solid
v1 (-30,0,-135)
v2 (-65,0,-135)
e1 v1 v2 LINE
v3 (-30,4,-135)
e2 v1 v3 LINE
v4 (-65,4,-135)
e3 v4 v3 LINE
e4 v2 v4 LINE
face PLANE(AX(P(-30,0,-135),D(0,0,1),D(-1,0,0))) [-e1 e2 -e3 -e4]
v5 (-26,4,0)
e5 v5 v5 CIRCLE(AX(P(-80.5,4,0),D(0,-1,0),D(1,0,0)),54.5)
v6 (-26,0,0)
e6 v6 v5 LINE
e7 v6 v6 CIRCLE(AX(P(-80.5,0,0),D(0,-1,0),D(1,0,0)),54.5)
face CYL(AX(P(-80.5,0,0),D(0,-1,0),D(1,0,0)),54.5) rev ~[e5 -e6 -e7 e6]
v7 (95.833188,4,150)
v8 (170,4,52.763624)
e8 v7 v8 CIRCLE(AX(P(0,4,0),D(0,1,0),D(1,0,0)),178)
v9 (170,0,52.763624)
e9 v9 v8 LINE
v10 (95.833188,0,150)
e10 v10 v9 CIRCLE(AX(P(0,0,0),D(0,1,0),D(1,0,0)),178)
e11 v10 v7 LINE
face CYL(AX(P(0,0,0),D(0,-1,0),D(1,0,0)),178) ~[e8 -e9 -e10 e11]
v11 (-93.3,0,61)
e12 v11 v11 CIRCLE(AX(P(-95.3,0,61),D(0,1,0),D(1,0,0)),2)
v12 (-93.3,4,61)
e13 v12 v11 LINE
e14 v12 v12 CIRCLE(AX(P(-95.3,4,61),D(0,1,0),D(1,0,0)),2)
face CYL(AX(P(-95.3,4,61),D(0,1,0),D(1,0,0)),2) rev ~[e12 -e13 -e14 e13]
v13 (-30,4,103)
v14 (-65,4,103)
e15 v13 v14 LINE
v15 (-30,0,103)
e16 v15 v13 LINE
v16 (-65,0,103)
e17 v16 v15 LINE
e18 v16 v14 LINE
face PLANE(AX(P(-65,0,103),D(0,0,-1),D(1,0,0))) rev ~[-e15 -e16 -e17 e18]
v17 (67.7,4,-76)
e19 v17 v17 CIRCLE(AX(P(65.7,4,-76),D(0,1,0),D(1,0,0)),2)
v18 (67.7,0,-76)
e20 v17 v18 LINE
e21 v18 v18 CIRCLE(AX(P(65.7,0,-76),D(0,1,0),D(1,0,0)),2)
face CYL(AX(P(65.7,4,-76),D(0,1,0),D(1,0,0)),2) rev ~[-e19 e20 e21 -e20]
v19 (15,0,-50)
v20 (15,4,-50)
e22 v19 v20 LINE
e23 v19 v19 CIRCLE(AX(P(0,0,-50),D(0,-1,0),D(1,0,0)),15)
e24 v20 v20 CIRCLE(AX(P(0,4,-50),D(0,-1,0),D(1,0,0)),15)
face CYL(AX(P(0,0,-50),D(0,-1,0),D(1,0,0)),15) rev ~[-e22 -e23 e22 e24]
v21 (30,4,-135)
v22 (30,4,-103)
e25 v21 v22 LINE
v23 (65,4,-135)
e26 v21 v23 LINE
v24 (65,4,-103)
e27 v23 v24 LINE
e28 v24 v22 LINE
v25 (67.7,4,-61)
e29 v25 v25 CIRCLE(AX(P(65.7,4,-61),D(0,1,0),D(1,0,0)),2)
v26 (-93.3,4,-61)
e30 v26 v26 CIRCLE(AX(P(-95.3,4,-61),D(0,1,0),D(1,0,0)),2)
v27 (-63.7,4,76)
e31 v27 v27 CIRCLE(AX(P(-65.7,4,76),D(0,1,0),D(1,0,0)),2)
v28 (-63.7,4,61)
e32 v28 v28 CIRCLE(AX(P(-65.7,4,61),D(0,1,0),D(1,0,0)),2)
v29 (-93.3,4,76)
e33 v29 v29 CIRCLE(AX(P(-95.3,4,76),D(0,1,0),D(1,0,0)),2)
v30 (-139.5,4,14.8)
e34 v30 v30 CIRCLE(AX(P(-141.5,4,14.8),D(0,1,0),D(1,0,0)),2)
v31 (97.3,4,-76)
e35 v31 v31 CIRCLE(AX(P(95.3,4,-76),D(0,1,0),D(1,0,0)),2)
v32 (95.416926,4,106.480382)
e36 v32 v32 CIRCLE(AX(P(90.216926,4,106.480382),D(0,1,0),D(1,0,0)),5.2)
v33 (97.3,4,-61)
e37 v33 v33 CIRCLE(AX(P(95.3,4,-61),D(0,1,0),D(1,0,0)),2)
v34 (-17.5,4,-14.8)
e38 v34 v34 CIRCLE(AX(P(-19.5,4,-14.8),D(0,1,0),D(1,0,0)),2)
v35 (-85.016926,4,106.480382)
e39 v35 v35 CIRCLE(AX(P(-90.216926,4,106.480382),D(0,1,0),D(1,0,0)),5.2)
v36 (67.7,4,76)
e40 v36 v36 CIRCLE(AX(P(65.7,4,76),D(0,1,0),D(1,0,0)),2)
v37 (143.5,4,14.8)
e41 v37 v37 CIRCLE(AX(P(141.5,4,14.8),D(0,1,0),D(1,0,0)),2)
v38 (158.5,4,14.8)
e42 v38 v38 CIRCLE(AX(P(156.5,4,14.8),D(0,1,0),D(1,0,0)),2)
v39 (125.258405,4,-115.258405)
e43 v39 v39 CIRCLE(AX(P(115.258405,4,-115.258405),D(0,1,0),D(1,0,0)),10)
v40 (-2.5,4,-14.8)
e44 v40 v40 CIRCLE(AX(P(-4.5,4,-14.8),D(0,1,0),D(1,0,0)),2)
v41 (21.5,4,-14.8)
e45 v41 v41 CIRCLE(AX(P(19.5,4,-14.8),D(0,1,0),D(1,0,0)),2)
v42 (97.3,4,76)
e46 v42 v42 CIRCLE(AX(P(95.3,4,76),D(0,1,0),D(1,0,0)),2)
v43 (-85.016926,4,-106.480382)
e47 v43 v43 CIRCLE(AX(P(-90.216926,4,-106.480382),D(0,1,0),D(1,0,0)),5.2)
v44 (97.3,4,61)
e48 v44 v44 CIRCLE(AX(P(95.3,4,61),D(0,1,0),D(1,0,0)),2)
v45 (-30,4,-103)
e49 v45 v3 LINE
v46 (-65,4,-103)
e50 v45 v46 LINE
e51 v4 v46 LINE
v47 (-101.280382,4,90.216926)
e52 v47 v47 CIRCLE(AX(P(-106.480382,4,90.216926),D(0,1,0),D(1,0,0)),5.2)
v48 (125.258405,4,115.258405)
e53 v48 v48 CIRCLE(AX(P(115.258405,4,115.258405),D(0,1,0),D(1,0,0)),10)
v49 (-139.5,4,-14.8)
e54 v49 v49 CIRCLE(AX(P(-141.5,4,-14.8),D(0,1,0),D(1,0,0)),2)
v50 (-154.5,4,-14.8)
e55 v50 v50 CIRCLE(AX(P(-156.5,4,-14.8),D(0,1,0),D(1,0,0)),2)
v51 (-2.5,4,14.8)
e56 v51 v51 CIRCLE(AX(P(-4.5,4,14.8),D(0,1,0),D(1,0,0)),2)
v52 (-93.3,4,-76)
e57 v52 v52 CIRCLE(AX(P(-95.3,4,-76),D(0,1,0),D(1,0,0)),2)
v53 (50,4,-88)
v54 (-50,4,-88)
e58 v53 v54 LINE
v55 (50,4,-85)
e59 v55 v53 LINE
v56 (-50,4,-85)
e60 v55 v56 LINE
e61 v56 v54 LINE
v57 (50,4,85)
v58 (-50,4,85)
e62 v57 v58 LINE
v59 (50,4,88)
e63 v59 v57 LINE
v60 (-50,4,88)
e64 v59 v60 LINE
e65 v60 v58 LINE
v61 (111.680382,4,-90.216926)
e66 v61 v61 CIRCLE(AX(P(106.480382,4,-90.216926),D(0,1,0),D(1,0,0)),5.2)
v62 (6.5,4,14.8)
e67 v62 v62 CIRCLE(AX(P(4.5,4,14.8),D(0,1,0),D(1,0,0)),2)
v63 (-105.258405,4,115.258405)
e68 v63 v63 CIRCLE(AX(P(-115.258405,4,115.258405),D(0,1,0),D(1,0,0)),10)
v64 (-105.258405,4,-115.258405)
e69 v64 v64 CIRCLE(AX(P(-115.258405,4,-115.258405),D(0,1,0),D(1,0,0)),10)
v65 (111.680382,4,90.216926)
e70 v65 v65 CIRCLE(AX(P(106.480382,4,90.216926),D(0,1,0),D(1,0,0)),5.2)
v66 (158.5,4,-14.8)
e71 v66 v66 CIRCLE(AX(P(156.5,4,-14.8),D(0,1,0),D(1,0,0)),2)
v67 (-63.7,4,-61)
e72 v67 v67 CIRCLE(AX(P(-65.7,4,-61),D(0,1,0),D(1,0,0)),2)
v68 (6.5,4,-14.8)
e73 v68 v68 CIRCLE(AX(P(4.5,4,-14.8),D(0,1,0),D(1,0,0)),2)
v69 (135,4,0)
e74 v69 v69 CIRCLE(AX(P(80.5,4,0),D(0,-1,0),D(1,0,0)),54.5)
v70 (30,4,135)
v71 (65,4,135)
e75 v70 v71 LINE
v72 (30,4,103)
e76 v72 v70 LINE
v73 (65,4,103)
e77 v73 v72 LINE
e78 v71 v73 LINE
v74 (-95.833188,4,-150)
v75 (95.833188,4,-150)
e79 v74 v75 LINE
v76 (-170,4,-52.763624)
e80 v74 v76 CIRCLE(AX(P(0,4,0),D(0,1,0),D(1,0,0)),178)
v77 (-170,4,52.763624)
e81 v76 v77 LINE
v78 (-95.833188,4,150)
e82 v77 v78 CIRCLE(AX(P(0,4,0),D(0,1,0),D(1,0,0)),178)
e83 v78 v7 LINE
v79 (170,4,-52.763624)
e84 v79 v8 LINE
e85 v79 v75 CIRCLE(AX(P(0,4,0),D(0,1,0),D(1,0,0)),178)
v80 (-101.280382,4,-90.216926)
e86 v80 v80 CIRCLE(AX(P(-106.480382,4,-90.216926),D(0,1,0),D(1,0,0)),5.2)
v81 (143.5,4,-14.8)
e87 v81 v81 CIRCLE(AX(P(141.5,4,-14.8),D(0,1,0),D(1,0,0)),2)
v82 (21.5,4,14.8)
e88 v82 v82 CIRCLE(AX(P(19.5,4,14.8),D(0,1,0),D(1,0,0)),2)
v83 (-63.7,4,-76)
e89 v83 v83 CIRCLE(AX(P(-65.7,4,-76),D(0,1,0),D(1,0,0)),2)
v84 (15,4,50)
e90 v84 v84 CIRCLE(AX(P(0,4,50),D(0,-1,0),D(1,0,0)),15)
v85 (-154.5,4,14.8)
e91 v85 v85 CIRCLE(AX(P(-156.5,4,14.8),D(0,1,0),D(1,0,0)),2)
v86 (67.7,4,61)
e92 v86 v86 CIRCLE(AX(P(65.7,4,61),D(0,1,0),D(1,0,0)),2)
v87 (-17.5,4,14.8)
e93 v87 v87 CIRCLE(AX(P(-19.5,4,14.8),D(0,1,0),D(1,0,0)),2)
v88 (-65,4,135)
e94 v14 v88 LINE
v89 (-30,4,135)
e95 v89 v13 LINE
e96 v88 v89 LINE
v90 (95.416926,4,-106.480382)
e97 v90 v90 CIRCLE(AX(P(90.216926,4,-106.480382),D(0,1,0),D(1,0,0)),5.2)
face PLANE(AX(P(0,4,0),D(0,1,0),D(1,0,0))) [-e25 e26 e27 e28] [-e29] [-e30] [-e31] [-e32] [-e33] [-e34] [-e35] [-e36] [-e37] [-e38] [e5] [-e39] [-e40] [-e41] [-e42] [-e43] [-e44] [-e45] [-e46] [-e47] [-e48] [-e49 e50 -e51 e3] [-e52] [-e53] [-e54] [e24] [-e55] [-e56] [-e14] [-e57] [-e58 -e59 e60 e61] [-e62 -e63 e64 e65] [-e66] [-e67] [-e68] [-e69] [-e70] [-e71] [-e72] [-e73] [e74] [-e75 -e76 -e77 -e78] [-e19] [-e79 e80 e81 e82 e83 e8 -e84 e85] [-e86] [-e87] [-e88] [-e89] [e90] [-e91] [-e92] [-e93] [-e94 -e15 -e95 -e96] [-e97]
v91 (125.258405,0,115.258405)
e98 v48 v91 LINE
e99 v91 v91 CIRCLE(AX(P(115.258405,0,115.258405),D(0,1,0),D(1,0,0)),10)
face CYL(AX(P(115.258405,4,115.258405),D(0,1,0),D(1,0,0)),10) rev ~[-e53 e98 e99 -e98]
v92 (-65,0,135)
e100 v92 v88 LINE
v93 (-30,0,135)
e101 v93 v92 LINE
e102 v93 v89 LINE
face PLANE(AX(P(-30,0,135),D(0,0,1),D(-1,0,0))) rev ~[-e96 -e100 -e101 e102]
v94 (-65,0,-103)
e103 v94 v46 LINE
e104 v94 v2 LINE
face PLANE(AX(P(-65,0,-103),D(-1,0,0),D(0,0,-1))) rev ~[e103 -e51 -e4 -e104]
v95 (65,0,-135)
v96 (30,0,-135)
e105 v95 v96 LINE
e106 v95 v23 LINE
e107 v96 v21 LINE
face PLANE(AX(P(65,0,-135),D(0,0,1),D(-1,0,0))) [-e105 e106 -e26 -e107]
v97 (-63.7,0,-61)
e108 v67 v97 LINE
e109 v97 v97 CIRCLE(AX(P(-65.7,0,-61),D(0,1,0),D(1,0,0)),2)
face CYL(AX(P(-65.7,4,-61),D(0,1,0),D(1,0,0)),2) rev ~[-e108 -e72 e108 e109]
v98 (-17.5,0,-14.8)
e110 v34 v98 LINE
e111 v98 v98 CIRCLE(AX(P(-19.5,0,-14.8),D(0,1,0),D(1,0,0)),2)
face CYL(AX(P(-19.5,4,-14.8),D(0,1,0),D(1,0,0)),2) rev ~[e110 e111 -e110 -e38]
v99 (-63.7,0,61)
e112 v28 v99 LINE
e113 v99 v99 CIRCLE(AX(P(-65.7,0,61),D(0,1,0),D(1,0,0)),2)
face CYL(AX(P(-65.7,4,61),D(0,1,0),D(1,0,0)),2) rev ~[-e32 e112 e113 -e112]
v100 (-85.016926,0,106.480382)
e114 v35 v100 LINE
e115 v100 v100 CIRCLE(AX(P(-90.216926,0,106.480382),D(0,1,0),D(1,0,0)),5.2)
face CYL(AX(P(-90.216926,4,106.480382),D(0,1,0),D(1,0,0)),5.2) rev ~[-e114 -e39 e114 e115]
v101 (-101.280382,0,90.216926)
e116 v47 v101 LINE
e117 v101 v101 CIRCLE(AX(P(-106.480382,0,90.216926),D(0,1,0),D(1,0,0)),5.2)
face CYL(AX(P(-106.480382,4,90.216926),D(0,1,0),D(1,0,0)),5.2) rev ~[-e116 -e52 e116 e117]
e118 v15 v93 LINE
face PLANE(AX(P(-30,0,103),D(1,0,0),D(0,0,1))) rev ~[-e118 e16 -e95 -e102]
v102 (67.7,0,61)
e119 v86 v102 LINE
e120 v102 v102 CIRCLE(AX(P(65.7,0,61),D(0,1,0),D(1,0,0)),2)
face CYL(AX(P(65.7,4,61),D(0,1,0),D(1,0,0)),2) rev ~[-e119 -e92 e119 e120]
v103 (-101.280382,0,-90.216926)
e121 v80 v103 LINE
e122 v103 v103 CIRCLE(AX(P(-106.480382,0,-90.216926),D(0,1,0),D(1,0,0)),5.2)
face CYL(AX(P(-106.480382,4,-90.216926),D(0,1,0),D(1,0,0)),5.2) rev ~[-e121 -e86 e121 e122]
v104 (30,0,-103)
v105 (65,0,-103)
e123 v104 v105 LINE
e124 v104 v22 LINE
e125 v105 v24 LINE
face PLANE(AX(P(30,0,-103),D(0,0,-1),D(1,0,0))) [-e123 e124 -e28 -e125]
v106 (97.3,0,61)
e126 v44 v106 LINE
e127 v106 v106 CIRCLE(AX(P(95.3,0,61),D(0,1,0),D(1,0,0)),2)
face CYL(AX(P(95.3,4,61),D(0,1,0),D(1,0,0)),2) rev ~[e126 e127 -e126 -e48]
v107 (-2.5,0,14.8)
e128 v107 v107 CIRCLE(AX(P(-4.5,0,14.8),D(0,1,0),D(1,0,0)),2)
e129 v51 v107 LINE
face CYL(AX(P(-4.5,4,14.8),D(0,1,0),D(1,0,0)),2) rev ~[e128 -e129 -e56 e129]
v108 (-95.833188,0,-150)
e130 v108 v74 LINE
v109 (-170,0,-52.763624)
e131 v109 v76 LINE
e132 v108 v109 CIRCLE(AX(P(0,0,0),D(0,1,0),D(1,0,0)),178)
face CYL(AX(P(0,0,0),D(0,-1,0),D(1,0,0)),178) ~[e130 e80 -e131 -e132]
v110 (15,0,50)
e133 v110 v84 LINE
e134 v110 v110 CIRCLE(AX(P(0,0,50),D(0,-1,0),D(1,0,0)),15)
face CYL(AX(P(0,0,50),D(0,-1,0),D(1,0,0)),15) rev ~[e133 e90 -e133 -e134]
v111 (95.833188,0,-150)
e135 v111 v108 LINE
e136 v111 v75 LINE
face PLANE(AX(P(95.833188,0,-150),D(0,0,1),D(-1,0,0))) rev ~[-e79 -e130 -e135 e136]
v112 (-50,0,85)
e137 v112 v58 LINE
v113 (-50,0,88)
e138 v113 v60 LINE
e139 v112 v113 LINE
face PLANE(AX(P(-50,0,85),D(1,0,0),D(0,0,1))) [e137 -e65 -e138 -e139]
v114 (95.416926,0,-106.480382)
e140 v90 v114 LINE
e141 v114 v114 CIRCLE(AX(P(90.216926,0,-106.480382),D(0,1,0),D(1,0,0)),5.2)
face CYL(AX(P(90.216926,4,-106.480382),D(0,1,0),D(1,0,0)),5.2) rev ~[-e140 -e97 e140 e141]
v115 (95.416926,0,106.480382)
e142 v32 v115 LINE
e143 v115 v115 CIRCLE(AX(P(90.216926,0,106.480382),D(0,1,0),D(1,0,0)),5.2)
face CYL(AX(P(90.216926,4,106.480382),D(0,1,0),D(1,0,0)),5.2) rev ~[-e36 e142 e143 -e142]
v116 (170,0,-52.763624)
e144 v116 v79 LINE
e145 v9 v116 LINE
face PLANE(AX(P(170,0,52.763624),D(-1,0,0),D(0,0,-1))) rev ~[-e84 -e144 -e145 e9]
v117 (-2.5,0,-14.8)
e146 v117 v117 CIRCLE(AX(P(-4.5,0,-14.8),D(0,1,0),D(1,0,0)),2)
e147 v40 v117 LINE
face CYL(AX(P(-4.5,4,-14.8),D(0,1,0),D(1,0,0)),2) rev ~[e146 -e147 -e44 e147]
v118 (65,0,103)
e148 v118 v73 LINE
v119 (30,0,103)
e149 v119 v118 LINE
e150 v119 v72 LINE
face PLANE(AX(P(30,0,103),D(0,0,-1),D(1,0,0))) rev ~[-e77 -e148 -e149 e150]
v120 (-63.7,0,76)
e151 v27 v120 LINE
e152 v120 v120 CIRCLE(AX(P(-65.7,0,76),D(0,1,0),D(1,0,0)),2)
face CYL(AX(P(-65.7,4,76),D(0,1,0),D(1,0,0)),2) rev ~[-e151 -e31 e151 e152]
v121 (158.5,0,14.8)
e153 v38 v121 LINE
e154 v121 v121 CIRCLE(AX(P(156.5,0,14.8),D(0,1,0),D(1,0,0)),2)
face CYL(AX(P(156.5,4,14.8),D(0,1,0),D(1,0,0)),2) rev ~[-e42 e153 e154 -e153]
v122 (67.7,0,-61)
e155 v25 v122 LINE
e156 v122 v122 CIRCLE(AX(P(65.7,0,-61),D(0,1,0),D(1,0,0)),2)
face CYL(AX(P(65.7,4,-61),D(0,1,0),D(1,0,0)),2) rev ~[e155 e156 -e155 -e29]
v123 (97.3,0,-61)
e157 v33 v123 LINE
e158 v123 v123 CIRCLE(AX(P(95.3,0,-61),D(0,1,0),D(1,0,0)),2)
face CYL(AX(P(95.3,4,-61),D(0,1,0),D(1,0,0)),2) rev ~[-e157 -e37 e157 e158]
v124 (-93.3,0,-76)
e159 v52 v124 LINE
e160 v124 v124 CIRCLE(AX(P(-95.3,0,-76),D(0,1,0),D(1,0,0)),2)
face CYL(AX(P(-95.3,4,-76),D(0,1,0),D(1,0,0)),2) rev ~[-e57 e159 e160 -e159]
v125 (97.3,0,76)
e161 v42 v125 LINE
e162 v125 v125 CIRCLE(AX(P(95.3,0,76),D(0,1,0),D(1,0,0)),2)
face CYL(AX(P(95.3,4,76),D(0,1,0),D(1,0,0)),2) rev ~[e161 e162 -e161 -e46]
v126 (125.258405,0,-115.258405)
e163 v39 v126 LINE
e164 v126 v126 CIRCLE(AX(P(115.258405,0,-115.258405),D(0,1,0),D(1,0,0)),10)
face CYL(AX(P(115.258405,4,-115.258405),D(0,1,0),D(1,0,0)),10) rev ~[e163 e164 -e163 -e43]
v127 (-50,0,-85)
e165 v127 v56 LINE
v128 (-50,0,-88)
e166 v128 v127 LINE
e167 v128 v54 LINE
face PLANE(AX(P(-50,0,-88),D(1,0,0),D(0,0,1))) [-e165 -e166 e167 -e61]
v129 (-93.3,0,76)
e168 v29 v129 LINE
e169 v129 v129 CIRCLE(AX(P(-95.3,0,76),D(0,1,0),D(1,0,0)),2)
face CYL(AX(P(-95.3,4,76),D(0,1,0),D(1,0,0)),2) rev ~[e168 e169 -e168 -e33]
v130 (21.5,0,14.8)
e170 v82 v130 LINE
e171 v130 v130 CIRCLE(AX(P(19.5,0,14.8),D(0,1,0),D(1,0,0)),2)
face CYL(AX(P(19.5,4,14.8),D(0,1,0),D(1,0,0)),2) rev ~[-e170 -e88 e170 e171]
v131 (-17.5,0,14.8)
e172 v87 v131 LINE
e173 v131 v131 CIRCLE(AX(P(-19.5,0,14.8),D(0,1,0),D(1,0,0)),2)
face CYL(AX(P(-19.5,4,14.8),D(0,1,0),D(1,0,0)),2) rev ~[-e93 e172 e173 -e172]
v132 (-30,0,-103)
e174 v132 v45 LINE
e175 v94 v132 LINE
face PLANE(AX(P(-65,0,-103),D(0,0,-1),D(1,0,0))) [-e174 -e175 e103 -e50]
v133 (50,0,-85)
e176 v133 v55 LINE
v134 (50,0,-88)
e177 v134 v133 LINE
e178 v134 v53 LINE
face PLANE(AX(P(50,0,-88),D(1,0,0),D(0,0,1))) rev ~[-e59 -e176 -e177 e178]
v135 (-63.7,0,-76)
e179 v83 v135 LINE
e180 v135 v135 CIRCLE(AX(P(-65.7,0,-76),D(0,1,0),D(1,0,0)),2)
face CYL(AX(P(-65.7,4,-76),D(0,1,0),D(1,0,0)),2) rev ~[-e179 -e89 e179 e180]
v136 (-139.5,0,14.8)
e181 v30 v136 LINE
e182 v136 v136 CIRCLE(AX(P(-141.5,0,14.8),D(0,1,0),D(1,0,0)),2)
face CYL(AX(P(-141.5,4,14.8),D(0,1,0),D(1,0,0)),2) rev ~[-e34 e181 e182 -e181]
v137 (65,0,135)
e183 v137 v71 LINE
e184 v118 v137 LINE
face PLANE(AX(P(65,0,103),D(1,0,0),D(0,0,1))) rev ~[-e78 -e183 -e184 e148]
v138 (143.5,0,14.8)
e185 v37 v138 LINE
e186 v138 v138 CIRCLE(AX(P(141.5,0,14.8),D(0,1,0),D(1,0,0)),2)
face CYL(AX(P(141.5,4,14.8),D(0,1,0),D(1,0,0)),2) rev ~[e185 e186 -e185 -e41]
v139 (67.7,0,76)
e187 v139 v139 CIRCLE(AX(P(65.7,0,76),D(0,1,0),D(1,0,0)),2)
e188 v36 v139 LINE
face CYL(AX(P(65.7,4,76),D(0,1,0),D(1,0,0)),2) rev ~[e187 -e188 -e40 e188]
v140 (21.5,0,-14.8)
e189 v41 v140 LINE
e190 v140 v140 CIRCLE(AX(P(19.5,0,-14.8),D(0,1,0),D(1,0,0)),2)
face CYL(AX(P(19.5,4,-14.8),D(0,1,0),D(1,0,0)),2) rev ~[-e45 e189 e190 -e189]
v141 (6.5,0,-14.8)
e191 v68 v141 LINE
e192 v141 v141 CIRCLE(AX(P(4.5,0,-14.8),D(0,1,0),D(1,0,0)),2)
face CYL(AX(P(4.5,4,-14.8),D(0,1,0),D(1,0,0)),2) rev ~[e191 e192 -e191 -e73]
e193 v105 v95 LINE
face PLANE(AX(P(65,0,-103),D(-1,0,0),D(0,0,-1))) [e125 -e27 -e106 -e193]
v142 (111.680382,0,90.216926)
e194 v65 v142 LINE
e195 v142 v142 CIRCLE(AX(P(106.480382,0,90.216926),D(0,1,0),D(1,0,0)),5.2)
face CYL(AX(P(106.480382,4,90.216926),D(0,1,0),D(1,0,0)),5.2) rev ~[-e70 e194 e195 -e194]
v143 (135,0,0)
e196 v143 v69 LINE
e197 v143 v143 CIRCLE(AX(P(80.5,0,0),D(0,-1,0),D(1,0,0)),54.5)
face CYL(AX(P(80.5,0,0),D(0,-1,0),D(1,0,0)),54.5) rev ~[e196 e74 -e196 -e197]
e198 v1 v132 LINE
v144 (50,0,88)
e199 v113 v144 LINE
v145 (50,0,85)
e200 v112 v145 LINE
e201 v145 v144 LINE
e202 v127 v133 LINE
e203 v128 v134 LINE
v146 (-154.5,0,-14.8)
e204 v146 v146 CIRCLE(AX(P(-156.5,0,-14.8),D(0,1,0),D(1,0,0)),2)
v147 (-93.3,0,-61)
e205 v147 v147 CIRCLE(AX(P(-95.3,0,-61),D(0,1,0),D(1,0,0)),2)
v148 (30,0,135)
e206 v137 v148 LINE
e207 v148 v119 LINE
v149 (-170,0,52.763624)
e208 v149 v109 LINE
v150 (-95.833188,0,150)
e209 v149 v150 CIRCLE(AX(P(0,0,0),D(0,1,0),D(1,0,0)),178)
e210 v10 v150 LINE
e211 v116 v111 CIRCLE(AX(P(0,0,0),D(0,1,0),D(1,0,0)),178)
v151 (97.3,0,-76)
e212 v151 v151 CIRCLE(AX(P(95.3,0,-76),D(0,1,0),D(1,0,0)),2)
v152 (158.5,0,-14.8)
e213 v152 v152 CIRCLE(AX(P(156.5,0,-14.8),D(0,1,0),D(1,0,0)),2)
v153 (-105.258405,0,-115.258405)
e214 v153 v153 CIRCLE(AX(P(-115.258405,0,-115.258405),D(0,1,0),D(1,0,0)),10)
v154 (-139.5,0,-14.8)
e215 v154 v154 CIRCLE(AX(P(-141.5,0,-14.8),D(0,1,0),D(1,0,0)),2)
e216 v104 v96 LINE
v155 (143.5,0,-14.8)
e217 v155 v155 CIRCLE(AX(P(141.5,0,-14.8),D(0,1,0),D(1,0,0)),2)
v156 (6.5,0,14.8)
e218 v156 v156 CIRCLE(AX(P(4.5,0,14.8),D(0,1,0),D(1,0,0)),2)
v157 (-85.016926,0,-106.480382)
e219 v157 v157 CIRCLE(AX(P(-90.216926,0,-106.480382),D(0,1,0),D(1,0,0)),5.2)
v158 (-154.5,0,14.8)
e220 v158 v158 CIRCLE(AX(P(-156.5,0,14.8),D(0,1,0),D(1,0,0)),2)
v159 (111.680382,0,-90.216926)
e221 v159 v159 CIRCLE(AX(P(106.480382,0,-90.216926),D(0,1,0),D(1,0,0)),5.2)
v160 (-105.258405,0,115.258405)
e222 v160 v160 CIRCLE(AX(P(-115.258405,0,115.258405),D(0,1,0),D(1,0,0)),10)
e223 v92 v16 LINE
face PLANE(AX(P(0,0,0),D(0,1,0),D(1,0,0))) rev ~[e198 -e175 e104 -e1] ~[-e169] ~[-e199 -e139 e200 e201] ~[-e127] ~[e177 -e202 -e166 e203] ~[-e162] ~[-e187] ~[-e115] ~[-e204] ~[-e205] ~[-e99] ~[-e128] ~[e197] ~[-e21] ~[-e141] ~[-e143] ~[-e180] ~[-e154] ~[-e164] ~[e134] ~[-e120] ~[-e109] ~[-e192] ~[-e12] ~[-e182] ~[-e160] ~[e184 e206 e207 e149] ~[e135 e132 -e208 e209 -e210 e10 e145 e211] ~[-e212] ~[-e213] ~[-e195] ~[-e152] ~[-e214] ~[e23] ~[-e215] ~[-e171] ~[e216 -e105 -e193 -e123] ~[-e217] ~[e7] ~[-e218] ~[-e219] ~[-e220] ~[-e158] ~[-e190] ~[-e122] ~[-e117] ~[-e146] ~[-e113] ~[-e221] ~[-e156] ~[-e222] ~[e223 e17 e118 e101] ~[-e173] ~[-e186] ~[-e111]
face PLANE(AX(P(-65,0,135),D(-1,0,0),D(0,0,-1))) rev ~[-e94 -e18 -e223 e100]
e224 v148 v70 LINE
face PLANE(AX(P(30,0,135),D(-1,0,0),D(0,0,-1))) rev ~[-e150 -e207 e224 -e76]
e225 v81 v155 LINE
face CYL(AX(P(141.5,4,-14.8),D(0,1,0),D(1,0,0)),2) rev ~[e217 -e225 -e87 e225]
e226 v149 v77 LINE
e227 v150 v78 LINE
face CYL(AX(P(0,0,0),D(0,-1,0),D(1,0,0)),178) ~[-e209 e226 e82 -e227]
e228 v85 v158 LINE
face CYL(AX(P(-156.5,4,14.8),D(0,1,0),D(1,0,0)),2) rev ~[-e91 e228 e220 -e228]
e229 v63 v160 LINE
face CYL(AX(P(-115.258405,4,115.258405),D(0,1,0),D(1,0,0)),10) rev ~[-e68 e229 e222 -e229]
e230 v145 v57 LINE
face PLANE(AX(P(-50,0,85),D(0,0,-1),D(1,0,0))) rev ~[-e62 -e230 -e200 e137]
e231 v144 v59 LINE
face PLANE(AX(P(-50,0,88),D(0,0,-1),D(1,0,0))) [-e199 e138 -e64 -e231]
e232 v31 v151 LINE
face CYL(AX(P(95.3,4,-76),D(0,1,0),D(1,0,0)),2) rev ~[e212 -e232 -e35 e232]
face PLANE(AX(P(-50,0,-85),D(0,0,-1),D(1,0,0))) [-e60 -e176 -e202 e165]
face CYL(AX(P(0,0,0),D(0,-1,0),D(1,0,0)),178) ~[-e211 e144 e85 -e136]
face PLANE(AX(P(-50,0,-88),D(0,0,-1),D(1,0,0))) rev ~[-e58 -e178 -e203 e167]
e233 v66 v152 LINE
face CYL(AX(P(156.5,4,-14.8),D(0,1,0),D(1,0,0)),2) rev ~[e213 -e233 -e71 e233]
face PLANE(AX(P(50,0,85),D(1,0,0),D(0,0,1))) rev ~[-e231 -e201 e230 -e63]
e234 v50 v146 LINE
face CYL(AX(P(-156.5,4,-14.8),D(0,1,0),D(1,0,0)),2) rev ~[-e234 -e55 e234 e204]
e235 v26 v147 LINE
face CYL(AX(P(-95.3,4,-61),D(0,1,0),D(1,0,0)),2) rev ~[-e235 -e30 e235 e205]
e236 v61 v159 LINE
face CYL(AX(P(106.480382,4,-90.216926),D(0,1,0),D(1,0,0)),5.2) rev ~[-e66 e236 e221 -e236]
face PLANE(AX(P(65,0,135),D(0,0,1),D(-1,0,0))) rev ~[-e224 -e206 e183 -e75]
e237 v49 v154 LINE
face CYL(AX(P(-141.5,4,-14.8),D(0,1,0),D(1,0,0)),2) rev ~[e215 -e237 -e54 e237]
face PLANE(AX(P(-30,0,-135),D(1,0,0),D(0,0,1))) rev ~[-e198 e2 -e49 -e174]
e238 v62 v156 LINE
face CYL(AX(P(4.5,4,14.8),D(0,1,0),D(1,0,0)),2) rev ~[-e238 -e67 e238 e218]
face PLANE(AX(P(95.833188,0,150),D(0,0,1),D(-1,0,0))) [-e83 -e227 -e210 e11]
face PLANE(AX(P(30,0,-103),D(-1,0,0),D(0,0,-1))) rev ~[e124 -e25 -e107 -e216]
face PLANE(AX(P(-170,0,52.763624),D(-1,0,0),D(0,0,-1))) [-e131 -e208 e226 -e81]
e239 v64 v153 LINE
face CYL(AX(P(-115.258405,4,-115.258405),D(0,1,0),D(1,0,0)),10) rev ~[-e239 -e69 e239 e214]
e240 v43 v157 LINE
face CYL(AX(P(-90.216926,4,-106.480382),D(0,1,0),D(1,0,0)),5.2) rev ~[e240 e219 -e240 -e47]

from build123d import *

# Parameters (mm, degrees)
SKETCH_1_R          = 178
EXTRUDE_1_DEPTH     = 4
SKETCH_2_R          = 10
SKETCH_2_R_2        = 5.2
CUT_EXTRUDE_1_DEPTH = 10
SKETCH_4_R          = 54.5
CUT_EXTRUDE_2_DEPTH = 10
SKETCH_5_R          = 2
CUT_EXTRUDE_3_DEPTH = 10
CUT_EXTRUDE_4_DEPTH = 10
SKETCH_11_W         = 100
SKETCH_11_H         = 3
CUT_EXTRUDE_5_DEPTH = 10
SKETCH_13_R         = 15
CUT_EXTRUDE_6_DEPTH = 10


with BuildPart() as part:
    # 草图1 → 凸台-拉伸1 (new body)
    with BuildSketch(Plane(origin=(0, 0, 0), x_dir=(1, 0, 0), z_dir=(0, 1, 0))):
        Circle(SKETCH_1_R)
    extrude(amount=EXTRUDE_1_DEPTH)

    # 草图2 → 切除-拉伸1 (cut)
    with BuildSketch(Plane(origin=(0, 4, 0), x_dir=(1, 0, 0), z_dir=(0, 1, 0))):
        with Locations((115.258405333, 115.258405333)):
            Circle(SKETCH_2_R)
        with Locations((-90.216925784, -106.480381752)):
            Circle(SKETCH_2_R_2)
        with Locations((-106.480381752, -90.216925784)):
            Circle(SKETCH_2_R_2)
        with Locations((115.258405333, -115.258405333)):
            Circle(SKETCH_2_R)
        with Locations((-115.258405333, -115.258405333)):
            Circle(SKETCH_2_R)
        with Locations((-115.258405333, 115.258405333)):
            Circle(SKETCH_2_R)
        with Locations((-90.216925784, 106.480381752)):
            Circle(SKETCH_2_R_2)
        with Locations((-106.480381752, 90.216925784)):
            Circle(SKETCH_2_R_2)
        with Locations((106.480381752, 90.216925784)):
            Circle(SKETCH_2_R_2)
        with Locations((90.216925784, 106.480381752)):
            Circle(SKETCH_2_R_2)
        with Locations((90.216925784, -106.480381752)):
            Circle(SKETCH_2_R_2)
        with Locations((106.480381752, -90.216925784)):
            Circle(SKETCH_2_R_2)
    extrude(amount=-CUT_EXTRUDE_1_DEPTH, mode=Mode.SUBTRACT)

    # 草图4 → 切除-拉伸2 (cut)
    with BuildSketch(Plane.XZ):
        with Locations((80.5, 0)):
            Circle(SKETCH_4_R)
        with Locations((-80.5, 0)):
            Circle(SKETCH_4_R)
    extrude(amount=-CUT_EXTRUDE_2_DEPTH, mode=Mode.SUBTRACT)

    # 草图5 → 切除-拉伸3 (cut)
    with BuildSketch(Plane(origin=(0, 4, 0), x_dir=(1, 0, 0), z_dir=(0, 1, 0))):
        with Locations((-19.5, -14.8)):
            Circle(SKETCH_5_R)
        with Locations((-4.5, -14.8)):
            Circle(SKETCH_5_R)
        with Locations((-4.5, 14.8)):
            Circle(SKETCH_5_R)
        with Locations((-19.5, 14.8)):
            Circle(SKETCH_5_R)
        with Locations((4.5, -14.8)):
            Circle(SKETCH_5_R)
        with Locations((19.5, -14.8)):
            Circle(SKETCH_5_R)
        with Locations((19.5, 14.8)):
            Circle(SKETCH_5_R)
        with Locations((4.5, 14.8)):
            Circle(SKETCH_5_R)
        with Locations((-65.7, -61)):
            Circle(SKETCH_5_R)
        with Locations((-65.7, -76)):
            Circle(SKETCH_5_R)
        with Locations((-95.3, -61)):
            Circle(SKETCH_5_R)
        with Locations((-95.3, -76)):
            Circle(SKETCH_5_R)
        with Locations((-141.5, -14.8)):
            Circle(SKETCH_5_R)
        with Locations((-156.5, -14.8)):
            Circle(SKETCH_5_R)
        with Locations((-141.5, 14.8)):
            Circle(SKETCH_5_R)
        with Locations((-156.5, 14.8)):
            Circle(SKETCH_5_R)
        with Locations((-95.3, 61)):
            Circle(SKETCH_5_R)
        with Locations((-95.3, 76)):
            Circle(SKETCH_5_R)
        with Locations((-65.7, 61)):
            Circle(SKETCH_5_R)
        with Locations((-65.7, 76)):
            Circle(SKETCH_5_R)
        with Locations((95.3, 76)):
            Circle(SKETCH_5_R)
        with Locations((95.3, 61)):
            Circle(SKETCH_5_R)
        with Locations((65.7, 76)):
            Circle(SKETCH_5_R)
        with Locations((65.7, 61)):
            Circle(SKETCH_5_R)
        with Locations((156.5, -14.8)):
            Circle(SKETCH_5_R)
        with Locations((141.5, -14.8)):
            Circle(SKETCH_5_R)
        with Locations((156.5, 14.8)):
            Circle(SKETCH_5_R)
        with Locations((141.5, 14.8)):
            Circle(SKETCH_5_R)
        with Locations((65.7, -76)):
            Circle(SKETCH_5_R)
        with Locations((65.7, -61)):
            Circle(SKETCH_5_R)
        with Locations((95.3, -76)):
            Circle(SKETCH_5_R)
        with Locations((95.3, -61)):
            Circle(SKETCH_5_R)
    extrude(amount=-CUT_EXTRUDE_3_DEPTH, mode=Mode.SUBTRACT)

    # 草图8 → 切除-拉伸4 (cut)
    with BuildSketch(Plane.XZ):
        with BuildLine():
            Line((95.833188406, 150), (0, 150))
            Line((0, 150), (-95.833188406, 150))
            ThreePointArc((-95.833188406, 150), (0, 178), (95.833188406, 150))
        make_face()
        with BuildLine():
            Line((170, 52.763623833), (170, 0))
            Line((170, 0), (170, -52.763623833))
            ThreePointArc((170, -52.763623833), (178, 0), (170, 52.763623833))
        make_face()
        with BuildLine():
            Line((0, -150), (-95.833188406, -150))
            ThreePointArc((-95.833188406, -150), (0, -178), (95.833188406, -150))
            Line((95.833188406, -150), (0, -150))
        make_face()
        with BuildLine():
            Line((-170, 0), (-170, -52.763623833))
            ThreePointArc((-170, -52.763623833), (-178, 0), (-170, 52.763623833))
            Line((-170, 52.763623833), (-170, 0))
        make_face()
    extrude(amount=-CUT_EXTRUDE_4_DEPTH, mode=Mode.SUBTRACT)

    # 草图11 → 切除-拉伸5 (cut)
    with BuildSketch(Plane.XZ):
        with Locations((0, -86.5)):
            Rectangle(SKETCH_11_W, SKETCH_11_H)
        Polygon((65, -135), (30, -135), (30, -119), (30, -103), (65, -103), align=None)
        Polygon((-65, -119), (-65, -103), (-30, -103), (-30, -119), (-30, -135), (-65, -135), align=None)
        with Locations((0, 86.5)):
            Rectangle(SKETCH_11_W, SKETCH_11_H)
        Polygon((-65, 119), (-65, 103), (-30, 103), (-30, 119), (-30, 135), (-65, 135), align=None)
        Polygon((65, 103), (65, 135), (30, 135), (30, 119), (30, 103), align=None)
    extrude(amount=-CUT_EXTRUDE_5_DEPTH, mode=Mode.SUBTRACT)

    # 草图13 → 切除-拉伸6 (cut)
    with BuildSketch(Plane.XZ):
        with Locations((0, -50)):
            Circle(SKETCH_13_R)
        with Locations((0, 50)):
            Circle(SKETCH_13_R)
    extrude(amount=-CUT_EXTRUDE_6_DEPTH, mode=Mode.SUBTRACT)


solid = part.part
